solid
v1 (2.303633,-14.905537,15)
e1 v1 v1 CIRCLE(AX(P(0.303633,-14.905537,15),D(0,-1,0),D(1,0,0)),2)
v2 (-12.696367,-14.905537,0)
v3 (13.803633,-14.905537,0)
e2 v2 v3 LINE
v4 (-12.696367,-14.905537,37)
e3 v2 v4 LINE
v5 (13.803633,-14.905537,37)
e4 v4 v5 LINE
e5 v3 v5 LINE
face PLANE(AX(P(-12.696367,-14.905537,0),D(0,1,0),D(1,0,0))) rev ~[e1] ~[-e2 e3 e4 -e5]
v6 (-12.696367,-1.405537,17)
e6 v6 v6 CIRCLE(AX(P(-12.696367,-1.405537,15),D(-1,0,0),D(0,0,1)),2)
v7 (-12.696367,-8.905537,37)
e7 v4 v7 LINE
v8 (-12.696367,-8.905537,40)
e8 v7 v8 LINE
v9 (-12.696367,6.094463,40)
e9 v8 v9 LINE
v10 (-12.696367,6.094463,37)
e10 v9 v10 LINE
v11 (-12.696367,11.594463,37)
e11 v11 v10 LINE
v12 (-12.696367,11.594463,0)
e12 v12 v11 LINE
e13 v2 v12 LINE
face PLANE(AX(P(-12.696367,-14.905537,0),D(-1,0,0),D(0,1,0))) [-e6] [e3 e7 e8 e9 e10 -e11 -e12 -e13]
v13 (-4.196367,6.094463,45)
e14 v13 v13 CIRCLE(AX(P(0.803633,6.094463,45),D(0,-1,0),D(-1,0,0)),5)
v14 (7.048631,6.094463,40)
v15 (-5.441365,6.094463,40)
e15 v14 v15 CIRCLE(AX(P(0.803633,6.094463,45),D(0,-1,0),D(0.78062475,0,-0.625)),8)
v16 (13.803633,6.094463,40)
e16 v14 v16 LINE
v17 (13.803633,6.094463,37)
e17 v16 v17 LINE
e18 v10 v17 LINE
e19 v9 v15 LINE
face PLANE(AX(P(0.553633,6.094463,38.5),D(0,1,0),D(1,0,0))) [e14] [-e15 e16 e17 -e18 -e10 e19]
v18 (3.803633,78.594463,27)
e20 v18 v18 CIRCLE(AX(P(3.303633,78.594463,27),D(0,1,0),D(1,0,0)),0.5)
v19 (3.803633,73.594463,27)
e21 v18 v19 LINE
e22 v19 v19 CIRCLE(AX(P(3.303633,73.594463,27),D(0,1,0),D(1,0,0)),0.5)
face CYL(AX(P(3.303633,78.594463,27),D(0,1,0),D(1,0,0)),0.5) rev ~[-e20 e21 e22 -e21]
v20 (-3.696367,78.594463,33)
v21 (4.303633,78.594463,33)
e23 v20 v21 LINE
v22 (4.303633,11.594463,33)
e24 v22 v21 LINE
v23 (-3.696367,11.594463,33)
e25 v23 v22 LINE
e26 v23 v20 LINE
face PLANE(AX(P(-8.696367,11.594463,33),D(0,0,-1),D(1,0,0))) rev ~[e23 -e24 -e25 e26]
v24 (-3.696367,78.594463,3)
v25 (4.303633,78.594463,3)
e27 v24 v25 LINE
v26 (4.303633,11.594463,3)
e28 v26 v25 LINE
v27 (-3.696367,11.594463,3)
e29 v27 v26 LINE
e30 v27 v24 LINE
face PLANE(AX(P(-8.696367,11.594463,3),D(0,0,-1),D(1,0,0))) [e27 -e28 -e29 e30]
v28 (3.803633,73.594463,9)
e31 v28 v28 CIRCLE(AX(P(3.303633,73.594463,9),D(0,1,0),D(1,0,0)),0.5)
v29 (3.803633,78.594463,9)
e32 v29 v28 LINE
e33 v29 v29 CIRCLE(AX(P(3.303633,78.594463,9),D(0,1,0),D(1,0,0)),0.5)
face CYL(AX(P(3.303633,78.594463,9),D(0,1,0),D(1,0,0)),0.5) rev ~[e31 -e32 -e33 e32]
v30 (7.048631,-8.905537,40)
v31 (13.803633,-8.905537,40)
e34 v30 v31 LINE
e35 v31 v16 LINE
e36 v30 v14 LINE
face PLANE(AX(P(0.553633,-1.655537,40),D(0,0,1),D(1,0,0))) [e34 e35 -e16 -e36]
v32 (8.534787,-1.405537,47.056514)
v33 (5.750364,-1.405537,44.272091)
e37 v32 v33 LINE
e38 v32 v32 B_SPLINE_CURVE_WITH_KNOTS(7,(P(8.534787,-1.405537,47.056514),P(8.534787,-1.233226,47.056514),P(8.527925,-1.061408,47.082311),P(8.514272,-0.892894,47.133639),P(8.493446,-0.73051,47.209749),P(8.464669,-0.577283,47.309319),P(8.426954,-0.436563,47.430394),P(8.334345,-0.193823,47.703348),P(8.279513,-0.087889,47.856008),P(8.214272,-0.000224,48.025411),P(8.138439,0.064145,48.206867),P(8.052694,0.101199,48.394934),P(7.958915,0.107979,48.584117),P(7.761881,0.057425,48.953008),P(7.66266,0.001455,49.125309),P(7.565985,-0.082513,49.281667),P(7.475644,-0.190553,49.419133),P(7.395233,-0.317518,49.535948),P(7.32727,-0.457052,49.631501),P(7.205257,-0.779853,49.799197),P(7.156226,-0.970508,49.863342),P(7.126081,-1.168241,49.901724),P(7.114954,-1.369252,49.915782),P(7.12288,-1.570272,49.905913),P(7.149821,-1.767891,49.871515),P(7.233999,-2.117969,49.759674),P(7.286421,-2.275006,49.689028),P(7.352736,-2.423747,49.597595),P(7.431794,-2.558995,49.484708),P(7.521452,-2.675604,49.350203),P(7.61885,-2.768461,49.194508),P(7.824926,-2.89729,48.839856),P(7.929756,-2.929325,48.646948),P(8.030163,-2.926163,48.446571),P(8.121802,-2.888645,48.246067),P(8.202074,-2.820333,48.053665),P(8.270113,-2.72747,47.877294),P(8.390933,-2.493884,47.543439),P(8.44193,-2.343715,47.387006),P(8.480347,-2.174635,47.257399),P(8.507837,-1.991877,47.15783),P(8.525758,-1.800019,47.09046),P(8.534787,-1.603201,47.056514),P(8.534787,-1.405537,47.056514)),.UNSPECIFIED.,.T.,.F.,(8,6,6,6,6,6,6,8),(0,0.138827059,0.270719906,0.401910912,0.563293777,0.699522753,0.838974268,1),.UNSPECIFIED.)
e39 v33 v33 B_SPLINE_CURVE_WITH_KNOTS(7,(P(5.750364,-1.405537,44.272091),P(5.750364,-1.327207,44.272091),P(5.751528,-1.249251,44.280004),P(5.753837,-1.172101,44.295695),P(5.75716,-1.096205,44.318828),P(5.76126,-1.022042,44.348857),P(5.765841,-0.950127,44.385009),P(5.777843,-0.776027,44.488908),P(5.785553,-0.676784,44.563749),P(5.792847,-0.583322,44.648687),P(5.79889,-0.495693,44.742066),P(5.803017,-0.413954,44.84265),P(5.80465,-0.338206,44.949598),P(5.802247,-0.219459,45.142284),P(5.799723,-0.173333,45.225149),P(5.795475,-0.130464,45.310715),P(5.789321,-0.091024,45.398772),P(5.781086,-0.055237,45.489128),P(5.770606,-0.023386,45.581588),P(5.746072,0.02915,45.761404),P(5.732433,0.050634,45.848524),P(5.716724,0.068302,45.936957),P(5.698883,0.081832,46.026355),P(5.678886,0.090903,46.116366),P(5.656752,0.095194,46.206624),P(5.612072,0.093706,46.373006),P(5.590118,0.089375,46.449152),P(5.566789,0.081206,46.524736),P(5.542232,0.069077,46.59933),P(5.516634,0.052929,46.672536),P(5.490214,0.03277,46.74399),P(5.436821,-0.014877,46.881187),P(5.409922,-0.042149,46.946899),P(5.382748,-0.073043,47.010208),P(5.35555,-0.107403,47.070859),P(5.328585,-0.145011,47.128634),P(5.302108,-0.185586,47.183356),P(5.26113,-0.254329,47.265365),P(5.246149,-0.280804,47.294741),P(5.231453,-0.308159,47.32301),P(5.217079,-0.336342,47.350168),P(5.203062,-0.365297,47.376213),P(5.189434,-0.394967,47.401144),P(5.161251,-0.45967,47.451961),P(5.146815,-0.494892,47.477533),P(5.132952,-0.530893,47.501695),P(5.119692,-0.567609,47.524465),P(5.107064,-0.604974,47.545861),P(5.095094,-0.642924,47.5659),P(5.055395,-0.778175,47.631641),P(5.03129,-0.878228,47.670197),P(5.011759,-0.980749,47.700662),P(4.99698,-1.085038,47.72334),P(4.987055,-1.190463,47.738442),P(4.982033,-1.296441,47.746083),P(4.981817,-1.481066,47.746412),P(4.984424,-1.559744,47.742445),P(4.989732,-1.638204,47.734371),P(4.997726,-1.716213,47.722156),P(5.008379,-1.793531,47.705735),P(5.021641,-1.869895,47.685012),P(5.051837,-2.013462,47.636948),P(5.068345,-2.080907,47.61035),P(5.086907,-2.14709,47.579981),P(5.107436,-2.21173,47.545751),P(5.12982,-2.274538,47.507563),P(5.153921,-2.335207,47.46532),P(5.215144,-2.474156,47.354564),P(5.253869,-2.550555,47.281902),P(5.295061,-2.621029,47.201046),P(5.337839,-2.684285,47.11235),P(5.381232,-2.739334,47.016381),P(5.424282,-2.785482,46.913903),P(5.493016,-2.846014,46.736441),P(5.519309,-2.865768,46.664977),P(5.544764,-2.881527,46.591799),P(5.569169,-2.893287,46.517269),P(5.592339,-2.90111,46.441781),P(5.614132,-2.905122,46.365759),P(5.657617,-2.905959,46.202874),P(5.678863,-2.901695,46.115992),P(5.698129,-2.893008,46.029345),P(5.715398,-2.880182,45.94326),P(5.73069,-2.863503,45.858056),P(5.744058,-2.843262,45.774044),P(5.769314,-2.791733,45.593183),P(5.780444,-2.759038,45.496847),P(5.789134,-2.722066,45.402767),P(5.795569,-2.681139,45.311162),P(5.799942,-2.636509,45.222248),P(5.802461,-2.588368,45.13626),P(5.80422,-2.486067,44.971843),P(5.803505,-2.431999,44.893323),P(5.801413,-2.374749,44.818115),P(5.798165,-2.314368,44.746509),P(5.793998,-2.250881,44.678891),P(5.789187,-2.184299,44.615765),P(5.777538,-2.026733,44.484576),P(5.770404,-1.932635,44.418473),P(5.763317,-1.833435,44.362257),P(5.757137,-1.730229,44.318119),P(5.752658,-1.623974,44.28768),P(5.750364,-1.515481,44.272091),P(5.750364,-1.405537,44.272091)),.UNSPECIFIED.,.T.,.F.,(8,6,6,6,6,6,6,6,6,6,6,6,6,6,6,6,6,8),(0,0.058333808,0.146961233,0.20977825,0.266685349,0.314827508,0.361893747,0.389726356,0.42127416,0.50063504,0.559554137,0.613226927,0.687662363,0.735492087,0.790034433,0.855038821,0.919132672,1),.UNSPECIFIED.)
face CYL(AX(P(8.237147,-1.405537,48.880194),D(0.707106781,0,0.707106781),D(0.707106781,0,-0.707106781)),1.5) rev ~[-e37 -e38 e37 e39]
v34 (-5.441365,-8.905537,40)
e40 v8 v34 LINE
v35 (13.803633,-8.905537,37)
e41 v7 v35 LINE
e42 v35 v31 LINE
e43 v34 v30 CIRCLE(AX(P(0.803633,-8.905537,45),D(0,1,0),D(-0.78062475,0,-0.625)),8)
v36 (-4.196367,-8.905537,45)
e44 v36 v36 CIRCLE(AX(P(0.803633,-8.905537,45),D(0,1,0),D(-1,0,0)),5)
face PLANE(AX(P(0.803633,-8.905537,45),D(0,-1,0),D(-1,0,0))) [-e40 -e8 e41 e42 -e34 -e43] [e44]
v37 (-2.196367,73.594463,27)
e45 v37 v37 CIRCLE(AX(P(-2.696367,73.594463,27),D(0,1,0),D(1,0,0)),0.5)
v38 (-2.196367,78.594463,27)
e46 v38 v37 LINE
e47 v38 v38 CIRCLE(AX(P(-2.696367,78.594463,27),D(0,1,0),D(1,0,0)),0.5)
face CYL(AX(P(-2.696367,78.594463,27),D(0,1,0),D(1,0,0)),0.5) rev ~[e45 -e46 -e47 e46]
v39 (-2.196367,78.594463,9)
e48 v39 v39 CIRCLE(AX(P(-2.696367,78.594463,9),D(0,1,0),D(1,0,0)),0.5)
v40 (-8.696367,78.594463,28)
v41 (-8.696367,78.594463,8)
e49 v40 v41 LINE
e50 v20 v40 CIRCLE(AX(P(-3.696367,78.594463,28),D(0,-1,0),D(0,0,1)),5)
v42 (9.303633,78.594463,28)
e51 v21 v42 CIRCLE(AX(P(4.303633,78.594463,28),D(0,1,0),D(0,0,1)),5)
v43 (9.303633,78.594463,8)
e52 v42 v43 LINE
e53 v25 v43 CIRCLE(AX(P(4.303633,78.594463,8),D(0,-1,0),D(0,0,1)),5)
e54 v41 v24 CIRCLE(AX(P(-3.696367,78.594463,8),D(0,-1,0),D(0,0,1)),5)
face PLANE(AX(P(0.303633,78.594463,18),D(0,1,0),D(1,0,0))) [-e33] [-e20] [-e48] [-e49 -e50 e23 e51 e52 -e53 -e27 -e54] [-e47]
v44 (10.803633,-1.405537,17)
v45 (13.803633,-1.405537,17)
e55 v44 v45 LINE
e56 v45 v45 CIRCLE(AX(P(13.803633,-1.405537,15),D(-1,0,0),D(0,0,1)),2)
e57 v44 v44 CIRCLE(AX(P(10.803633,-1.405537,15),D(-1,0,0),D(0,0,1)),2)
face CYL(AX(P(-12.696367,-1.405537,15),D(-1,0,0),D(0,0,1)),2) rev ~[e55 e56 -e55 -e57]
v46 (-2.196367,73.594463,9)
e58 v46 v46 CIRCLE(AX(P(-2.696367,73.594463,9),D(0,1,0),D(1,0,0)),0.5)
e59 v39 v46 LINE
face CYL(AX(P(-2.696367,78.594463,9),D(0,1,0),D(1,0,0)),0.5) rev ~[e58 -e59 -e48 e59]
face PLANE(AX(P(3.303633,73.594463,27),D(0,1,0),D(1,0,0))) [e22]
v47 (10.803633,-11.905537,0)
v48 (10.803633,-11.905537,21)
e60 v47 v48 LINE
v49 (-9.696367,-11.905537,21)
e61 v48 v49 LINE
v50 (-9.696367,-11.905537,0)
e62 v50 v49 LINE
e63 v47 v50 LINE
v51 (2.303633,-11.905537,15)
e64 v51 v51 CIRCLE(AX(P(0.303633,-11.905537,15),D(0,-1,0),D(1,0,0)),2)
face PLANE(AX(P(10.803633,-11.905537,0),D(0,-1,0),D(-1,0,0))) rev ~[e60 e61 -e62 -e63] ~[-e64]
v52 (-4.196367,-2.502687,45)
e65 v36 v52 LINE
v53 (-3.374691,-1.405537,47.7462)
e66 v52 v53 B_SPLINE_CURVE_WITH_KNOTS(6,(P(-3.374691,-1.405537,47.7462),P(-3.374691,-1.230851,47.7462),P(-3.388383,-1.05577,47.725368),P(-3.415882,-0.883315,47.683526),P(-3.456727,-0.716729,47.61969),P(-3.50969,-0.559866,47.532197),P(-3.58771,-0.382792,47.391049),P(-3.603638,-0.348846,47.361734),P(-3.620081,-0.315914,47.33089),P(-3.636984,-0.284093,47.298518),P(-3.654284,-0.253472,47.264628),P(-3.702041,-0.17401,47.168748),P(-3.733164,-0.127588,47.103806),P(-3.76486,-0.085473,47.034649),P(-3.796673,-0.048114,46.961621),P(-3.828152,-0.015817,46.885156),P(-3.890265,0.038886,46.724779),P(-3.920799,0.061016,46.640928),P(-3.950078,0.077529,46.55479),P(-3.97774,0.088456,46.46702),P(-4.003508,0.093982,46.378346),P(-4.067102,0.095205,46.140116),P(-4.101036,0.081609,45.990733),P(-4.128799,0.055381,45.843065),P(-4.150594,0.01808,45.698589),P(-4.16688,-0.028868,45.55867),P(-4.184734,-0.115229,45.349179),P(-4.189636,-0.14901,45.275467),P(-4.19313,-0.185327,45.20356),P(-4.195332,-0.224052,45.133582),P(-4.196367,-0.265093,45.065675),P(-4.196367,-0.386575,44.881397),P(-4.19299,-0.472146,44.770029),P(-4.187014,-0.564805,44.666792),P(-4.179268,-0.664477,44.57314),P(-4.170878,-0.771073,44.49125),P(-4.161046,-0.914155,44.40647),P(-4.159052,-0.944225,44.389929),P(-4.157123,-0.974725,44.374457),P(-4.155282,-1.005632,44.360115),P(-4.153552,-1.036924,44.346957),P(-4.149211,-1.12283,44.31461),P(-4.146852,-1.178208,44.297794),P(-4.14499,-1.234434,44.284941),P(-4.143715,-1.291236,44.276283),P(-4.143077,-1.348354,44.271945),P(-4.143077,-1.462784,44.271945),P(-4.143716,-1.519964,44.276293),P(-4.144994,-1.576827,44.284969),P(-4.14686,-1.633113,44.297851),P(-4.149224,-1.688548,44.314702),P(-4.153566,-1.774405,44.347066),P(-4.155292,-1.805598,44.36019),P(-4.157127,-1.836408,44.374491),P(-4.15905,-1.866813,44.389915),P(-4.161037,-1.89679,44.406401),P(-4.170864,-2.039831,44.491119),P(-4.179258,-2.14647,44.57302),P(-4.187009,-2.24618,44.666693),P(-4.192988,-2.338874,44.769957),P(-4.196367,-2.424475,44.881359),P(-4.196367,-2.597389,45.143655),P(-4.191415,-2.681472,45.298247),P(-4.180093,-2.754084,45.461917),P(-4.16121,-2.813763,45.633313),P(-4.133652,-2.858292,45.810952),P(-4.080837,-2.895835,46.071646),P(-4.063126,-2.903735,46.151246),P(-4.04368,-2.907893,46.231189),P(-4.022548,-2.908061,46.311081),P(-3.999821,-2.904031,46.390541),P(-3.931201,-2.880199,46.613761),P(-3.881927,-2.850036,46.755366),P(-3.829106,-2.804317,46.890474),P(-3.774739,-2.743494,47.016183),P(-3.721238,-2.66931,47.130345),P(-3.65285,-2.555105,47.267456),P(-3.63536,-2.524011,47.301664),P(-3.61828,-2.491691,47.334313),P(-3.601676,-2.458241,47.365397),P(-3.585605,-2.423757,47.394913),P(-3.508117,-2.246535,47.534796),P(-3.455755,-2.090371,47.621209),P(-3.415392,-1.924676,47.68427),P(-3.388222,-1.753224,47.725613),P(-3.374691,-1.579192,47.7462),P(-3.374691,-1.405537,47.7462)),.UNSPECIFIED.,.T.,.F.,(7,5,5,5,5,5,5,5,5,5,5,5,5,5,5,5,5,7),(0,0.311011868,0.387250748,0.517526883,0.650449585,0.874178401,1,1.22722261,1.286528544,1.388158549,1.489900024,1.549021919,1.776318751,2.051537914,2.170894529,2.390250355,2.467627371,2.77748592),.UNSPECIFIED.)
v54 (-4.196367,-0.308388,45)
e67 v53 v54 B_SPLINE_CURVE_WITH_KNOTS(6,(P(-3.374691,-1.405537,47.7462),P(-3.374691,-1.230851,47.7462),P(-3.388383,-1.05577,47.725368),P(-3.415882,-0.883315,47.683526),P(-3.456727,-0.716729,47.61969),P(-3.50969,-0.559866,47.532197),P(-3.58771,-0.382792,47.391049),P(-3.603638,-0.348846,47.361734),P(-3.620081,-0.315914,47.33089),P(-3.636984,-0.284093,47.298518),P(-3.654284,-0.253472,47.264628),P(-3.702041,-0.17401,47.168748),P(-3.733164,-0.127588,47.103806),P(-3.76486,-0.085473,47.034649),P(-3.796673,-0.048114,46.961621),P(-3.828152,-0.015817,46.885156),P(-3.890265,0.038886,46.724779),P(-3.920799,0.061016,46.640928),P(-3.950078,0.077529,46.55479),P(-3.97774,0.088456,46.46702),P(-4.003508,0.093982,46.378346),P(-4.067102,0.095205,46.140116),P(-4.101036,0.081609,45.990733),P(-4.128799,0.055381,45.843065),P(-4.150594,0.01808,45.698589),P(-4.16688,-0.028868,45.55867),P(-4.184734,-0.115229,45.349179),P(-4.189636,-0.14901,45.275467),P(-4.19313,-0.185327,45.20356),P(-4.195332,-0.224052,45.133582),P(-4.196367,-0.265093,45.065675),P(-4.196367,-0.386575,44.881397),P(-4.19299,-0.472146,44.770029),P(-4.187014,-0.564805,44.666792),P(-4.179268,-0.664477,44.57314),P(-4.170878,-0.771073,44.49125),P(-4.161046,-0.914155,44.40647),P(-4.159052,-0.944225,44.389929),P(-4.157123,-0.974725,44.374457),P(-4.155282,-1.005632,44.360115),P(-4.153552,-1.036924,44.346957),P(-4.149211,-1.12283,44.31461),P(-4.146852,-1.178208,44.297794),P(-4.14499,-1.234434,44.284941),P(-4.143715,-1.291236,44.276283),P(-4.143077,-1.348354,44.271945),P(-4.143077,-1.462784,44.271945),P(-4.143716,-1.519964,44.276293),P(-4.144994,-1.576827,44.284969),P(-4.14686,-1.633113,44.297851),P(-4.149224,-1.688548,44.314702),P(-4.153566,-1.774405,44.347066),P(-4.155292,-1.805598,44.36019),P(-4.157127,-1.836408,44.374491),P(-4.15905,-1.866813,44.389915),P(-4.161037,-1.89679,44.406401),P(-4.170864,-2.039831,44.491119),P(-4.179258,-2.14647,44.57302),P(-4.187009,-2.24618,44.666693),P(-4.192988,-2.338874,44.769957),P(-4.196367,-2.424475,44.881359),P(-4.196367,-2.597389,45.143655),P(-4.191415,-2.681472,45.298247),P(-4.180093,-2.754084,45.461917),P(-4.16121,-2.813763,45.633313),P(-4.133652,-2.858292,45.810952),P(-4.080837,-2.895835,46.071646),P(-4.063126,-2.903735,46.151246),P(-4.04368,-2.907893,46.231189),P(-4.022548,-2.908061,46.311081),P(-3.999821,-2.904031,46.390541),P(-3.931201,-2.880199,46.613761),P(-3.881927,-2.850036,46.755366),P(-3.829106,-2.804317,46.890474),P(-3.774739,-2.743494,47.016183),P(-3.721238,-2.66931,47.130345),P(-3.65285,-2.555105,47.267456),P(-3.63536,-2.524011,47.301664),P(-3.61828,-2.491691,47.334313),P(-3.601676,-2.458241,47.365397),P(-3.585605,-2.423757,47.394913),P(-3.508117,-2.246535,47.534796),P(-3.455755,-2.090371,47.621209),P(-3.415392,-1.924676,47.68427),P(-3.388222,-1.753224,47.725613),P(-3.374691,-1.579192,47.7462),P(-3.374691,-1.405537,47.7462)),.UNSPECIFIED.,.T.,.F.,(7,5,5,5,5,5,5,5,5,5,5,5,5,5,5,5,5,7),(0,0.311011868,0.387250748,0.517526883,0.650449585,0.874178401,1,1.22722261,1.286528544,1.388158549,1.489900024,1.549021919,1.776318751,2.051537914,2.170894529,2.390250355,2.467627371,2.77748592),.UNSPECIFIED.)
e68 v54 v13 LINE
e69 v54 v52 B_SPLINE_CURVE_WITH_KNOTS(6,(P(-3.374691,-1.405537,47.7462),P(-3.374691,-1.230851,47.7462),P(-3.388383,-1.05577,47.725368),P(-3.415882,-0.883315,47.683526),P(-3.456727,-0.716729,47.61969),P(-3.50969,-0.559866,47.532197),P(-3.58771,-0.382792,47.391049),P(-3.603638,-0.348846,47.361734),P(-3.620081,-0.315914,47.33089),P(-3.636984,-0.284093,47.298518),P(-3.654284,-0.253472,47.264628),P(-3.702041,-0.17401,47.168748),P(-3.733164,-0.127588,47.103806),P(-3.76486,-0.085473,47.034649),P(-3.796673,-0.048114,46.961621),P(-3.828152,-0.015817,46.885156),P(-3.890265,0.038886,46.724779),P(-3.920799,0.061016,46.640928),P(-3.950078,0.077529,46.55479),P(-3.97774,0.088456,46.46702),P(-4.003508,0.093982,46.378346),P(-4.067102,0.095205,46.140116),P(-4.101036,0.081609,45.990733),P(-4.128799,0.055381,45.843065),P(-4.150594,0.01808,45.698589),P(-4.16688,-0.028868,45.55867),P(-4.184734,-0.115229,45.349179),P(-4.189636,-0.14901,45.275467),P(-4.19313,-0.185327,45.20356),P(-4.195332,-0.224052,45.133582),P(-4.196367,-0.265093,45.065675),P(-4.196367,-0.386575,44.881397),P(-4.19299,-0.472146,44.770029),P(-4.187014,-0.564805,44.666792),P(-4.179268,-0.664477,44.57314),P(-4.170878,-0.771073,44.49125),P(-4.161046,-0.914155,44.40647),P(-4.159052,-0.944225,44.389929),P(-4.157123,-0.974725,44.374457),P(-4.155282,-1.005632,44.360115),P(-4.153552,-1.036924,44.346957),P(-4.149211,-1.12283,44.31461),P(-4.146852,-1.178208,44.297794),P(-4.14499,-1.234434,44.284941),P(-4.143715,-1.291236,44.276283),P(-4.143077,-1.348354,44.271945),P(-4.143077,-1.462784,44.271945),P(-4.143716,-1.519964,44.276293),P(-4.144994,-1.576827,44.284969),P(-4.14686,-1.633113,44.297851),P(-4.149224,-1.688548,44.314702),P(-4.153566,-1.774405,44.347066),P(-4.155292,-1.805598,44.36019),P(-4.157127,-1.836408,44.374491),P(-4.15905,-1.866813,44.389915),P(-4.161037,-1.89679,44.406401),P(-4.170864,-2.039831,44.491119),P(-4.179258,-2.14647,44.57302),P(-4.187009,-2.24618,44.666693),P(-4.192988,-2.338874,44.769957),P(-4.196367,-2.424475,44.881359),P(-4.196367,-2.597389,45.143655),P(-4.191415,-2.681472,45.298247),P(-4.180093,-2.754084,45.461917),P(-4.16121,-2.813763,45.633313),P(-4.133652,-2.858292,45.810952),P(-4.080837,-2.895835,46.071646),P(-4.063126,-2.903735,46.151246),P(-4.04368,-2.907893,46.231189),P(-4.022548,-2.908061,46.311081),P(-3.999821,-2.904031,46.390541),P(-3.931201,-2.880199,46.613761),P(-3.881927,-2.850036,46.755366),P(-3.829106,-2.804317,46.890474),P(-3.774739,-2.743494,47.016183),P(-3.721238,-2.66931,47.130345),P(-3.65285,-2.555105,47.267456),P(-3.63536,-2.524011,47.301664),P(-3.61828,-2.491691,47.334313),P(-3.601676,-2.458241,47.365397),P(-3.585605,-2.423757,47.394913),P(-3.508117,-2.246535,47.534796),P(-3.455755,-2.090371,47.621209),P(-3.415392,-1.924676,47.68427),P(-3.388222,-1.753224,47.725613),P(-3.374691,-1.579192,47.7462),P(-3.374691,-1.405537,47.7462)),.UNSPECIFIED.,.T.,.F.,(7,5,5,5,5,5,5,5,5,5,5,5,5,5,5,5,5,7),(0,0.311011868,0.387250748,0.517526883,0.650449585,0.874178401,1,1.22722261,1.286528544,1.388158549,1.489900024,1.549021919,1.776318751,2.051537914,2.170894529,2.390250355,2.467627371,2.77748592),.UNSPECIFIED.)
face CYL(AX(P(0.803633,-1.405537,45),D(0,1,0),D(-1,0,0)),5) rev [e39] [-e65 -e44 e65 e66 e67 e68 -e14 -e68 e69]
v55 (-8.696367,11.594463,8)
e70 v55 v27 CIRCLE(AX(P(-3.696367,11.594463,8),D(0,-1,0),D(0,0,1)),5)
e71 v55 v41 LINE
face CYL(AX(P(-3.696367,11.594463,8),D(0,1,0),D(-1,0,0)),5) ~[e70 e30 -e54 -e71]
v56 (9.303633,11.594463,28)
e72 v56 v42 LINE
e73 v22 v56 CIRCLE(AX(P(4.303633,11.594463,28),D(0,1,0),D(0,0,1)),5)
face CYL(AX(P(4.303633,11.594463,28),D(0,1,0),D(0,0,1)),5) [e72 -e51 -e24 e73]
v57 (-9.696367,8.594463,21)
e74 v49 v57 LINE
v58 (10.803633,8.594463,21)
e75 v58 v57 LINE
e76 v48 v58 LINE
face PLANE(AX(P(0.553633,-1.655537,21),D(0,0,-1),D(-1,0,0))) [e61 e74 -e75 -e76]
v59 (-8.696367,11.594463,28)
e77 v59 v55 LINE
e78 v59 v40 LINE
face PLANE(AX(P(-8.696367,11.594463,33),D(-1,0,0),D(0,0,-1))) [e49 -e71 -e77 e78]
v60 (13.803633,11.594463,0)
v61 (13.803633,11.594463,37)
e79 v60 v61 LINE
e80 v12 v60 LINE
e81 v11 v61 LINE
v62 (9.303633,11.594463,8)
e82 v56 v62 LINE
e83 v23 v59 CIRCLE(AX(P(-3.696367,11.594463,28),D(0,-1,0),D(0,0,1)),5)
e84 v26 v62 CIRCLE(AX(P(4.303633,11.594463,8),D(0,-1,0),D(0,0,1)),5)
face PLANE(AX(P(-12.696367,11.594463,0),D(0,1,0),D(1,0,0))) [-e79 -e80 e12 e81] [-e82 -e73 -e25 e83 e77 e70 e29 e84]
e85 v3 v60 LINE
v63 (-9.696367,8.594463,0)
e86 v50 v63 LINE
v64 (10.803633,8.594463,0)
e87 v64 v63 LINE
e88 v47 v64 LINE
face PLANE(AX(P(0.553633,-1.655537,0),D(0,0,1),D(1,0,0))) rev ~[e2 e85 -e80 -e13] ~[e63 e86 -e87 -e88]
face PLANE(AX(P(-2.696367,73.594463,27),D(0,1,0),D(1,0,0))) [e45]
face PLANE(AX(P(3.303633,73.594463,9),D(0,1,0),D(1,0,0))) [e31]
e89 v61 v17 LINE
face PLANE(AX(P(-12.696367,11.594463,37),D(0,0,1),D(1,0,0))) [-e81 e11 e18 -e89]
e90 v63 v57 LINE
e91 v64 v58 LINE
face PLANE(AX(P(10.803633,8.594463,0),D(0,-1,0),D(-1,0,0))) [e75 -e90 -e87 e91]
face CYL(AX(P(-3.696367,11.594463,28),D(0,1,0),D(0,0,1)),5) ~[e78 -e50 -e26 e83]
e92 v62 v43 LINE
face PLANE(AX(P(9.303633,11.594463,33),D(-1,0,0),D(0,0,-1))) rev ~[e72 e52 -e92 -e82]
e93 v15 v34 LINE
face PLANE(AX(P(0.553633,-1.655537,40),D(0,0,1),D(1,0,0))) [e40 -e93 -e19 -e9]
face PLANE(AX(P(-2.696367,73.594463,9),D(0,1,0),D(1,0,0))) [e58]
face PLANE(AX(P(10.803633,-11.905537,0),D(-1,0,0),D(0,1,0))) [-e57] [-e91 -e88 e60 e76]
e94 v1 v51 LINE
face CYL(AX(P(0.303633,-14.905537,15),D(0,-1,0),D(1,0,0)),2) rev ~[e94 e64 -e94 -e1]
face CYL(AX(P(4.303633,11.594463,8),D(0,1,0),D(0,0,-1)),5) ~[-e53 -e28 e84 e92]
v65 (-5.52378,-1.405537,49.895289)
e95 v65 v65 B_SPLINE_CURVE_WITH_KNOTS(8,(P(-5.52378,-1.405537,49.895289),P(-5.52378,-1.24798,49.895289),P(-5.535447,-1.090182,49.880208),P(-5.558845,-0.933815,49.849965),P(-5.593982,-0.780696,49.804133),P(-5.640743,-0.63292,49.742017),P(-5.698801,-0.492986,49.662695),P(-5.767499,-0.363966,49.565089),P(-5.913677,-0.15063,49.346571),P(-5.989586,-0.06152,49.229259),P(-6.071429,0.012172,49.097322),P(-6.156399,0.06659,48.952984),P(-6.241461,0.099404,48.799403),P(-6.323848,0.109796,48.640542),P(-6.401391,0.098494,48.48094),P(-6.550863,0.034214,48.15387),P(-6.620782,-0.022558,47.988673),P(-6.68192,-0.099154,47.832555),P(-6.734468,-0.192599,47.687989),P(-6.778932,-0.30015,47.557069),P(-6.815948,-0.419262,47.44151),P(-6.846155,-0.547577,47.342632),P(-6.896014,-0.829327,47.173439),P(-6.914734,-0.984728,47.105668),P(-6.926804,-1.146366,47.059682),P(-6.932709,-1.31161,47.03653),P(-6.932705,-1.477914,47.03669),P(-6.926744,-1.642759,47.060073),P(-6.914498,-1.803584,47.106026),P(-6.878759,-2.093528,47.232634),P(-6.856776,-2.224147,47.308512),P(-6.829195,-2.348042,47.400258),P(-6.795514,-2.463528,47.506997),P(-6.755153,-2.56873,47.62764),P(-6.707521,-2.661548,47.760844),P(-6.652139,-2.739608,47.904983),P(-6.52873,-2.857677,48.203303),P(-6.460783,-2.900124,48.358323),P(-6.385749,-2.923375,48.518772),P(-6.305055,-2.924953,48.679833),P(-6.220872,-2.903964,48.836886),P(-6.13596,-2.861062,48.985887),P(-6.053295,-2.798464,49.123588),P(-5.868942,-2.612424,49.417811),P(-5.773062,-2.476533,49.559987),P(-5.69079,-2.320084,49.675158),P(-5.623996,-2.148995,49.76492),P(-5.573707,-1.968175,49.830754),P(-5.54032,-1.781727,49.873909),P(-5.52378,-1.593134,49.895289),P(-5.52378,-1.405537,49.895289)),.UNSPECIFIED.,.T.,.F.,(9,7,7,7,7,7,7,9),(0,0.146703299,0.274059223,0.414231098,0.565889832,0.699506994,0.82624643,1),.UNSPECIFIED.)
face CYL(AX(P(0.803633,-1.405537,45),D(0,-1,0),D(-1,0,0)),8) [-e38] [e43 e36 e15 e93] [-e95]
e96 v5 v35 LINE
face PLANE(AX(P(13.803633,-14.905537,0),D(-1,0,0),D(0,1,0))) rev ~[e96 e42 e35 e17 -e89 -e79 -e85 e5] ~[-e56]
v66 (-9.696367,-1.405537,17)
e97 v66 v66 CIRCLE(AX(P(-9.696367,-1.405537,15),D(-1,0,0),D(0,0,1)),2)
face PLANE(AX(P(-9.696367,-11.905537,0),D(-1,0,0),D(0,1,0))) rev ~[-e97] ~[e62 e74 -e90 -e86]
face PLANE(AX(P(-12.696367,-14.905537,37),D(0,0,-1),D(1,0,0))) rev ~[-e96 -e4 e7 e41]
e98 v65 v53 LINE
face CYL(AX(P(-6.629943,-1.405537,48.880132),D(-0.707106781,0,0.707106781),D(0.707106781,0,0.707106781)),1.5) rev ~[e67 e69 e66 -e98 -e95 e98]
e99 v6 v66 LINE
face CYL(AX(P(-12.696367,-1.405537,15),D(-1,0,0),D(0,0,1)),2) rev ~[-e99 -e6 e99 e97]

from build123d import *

# Parameters (mm, degrees)
ESQUISSE1_W                   = 26.5
ESQUISSE1_H                   = 26.5
BOSS_EXTRU_1_DEPTH            = 40
ESQUISSE2_W                   = 20.5
ESQUISSE2_H                   = 20.5
ENL_V_MAT_EXTRU_1_DEPTH       = 21
ESQUISSE4_R                   = 8
ESQUISSE4_R_2                 = 5
BOSS_EXTRU_3_DEPTH            = 7.5
ESQUISSE4_4_R                 = 8
ESQUISSE4_4_R_2               = 5
BOSS_EXTRU_4_DEPTH            = 7.5
ESQUISSE8_W                   = 26.5
ESQUISSE8_H                   = 3
ENL_V_MAT_EXTRU_4_DEPTH       = 6
ESQUISSE12_W                  = 18
ESQUISSE12_H                  = 30
BOSS_EXTRU_5_DEPTH            = 67
CONG_1_R                      = 5
CONG_2_R                      = 5
CONG_3_R                      = 5
CONG_4_R                      = 5
ENL_V_MAT_EXTRU_7_REACH       = 51.366
ESQUISSE17_R                  = 1.5
ENL_V_MAT_EXTRU_8_REACH       = 51.012
ESQUISSE18_R                  = 1.5
ESQUISSE13_R                  = 0.5
ENL_V_MAT_EXTRU_9_DEPTH       = 5
ESQUISSE19_R                  = 2
ENL_V_MAT_EXTRU_10_DEPTH      = 1
ENL_V_MAT_EXTRU_10_DEPTH_BACK = 27.5
ENL_V_MAT_EXTRU_11_REACH      = 95.5
ESQUISSE20_R                  = 2
ESQUISSE9_W                   = 26.5
ESQUISSE9_H                   = 3
ENL_V_MAT_EXTRU_13_DEPTH      = 5.5


with BuildPart() as part:
    # Esquisse1 → Boss.-Extru.1 (new body)
    with BuildSketch(Plane.XY):
        with Locations((0.553632827, -1.655537459)):
            Rectangle(ESQUISSE1_W, ESQUISSE1_H)
    extrude(amount=BOSS_EXTRU_1_DEPTH)

    # Esquisse2 → Enlèv. mat.-Extru.1 (cut)
    with BuildSketch(Plane(origin=(0, 0, 0), x_dir=(-1, 0, 0), z_dir=(0, 0, -1))):
        with Locations((-0.553632827, -1.655537459)):
            Rectangle(ESQUISSE2_W, ESQUISSE2_H)
    extrude(amount=-ENL_V_MAT_EXTRU_1_DEPTH, mode=Mode.SUBTRACT)

    # Esquisse4 → Boss.-Extru.3 (add)
    with BuildSketch(Plane(origin=(0, -1.405537459, 0), x_dir=(-1, 0, 0), z_dir=(0, -1, 0))):
        with Locations((-0.803632827, -45)):
            Circle(ESQUISSE4_R)
        with Locations((-0.803632827, -45)):
            Circle(ESQUISSE4_R_2, mode=Mode.SUBTRACT)
    extrude(amount=BOSS_EXTRU_3_DEPTH)

    # Esquisse4<4> → Boss.-Extru.4 (add)
    with BuildSketch(Plane(origin=(0, -1.405537459, 0), x_dir=(-1, 0, 0), z_dir=(0, -1, 0))):
        with Locations((-0.803632827, -45)):
            Circle(ESQUISSE4_4_R)
        with Locations((-0.803632827, -45)):
            Circle(ESQUISSE4_4_R_2, mode=Mode.SUBTRACT)
    extrude(amount=-BOSS_EXTRU_4_DEPTH)

    # Esquisse8 → Enlèv. mat.-Extru.4 (cut)
    with BuildSketch(Plane.XZ.offset(14.905537459)):
        with Locations((0.553632827, 38.5)):
            Rectangle(ESQUISSE8_W, ESQUISSE8_H)
    extrude(amount=-ENL_V_MAT_EXTRU_4_DEPTH, mode=Mode.SUBTRACT)

    # Esquisse12 → Boss.-Extru.5 (add)
    with BuildSketch(Plane(origin=(0, 11.594462541, 0), x_dir=(1, 0, 0), z_dir=(0, 1, 0))):
        with Locations((0.303632827, -18)):
            Rectangle(ESQUISSE12_W, ESQUISSE12_H)
    extrude(amount=BOSS_EXTRU_5_DEPTH)

    # Congé1
    cong_1_edges = [part.edges().sort_by_distance(p)[0] for p in [
        (9.303632827, 45.094462541, 33),
    ]]
    fillet(cong_1_edges, radius=CONG_1_R)

    # Congé2
    cong_2_edges = [part.edges().sort_by_distance(p)[0] for p in [
        (-8.696367173, 45.094462541, 33),
    ]]
    fillet(cong_2_edges, radius=CONG_2_R)

    # Congé3
    cong_3_edges = [part.edges().sort_by_distance(p)[0] for p in [
        (-8.696367173, 45.094462541, 3),
    ]]
    fillet(cong_3_edges, radius=CONG_3_R)

    # Congé4
    cong_4_edges = [part.edges().sort_by_distance(p)[0] for p in [
        (9.303632827, 45.094462541, 3),
    ]]
    fillet(cong_4_edges, radius=CONG_4_R)

    # Esquisse17 → Enlèv. mat.-Extru.7 (cut, up to next)
    with BuildSketch(Plane(origin=(28.558670663, 0, 28.558670663), x_dir=(0.707106781, 0, -0.707106781), z_dir=(0.707106781, 0, 0.707106781)), mode=Mode.PRIVATE) as enl_v_mat_extru_7_sk1:
        with Locations((-28.738974236, -1.405537459)):
            Circle(ESQUISSE17_R)
    enl_v_mat_extru_7_tool1 = extrude(enl_v_mat_extru_7_sk1.sketch, amount=-ENL_V_MAT_EXTRU_7_REACH, mode=Mode.PRIVATE) & part.part
    add(enl_v_mat_extru_7_tool1.solids().sort_by_distance((8.237147, -1.405537, 48.880194))[0], mode=Mode.SUBTRACT)

    # Esquisse18 → Enlèv. mat.-Extru.8 (cut, up to next)
    with BuildSketch(Plane(origin=(-27.755037836, 0, 27.755037836), x_dir=(0.707106781, 0, 0.707106781), z_dir=(-0.707106781, 0, 0.707106781)), mode=Mode.PRIVATE) as enl_v_mat_extru_8_sk1:
        with Locations((29.875394998, -1.405537459)):
            Circle(ESQUISSE18_R)
    enl_v_mat_extru_8_tool1 = extrude(enl_v_mat_extru_8_sk1.sketch, amount=-ENL_V_MAT_EXTRU_8_REACH, mode=Mode.PRIVATE) & part.part
    add(enl_v_mat_extru_8_tool1.solids().sort_by_distance((-6.629943, -1.405537, 48.880132))[0], mode=Mode.SUBTRACT)

    # Esquisse13 → Enlèv. mat.-Extru.9 (cut)
    with BuildSketch(Plane(origin=(0, 78.594462541, 0), x_dir=(1, 0, 0), z_dir=(0, 1, 0))):
        with Locations((3.303632827, -9)):
            Circle(ESQUISSE13_R)
        with Locations((-2.696367173, -9)):
            Circle(ESQUISSE13_R)
        with Locations((3.303632827, -27)):
            Circle(ESQUISSE13_R)
        with Locations((-2.696367173, -27)):
            Circle(ESQUISSE13_R)
    extrude(amount=-ENL_V_MAT_EXTRU_9_DEPTH, mode=Mode.SUBTRACT)

    # Esquisse19 → Enlèv. mat.-Extru.10 (cut, two sides)
    with BuildSketch(Plane.ZY.offset(12.696367173)) as enl_v_mat_extru_10_sk:
        with Locations((15, -1.405537459)):
            Circle(ESQUISSE19_R)
    extrude(amount=ENL_V_MAT_EXTRU_10_DEPTH, mode=Mode.SUBTRACT)
    extrude(enl_v_mat_extru_10_sk.sketch, amount=-ENL_V_MAT_EXTRU_10_DEPTH_BACK, mode=Mode.SUBTRACT)

    # Esquisse20 → Enlèv. mat.-Extru.11 (cut, up to next)
    with BuildSketch(Plane.XZ.offset(14.905537459), mode=Mode.PRIVATE) as enl_v_mat_extru_11_sk1:
        with Locations((0.303632827, 15)):
            Circle(ESQUISSE20_R)
    enl_v_mat_extru_11_tool1 = extrude(enl_v_mat_extru_11_sk1.sketch, amount=-ENL_V_MAT_EXTRU_11_REACH, mode=Mode.PRIVATE) & part.part
    add(enl_v_mat_extru_11_tool1.solids().sort_by_distance((0.303633, -14.905537, 15))[0], mode=Mode.SUBTRACT)

    # Esquisse9 → Enlèv. mat.-Extru.13 (cut)
    with BuildSketch(Plane(origin=(0, 11.594462541, 0), x_dir=(1, 0, 0), z_dir=(0, 1, 0))):
        with Locations((0.553632827, -38.5)):
            Rectangle(ESQUISSE9_W, ESQUISSE9_H)
    extrude(amount=-ENL_V_MAT_EXTRU_13_DEPTH, mode=Mode.SUBTRACT)


solid = part.part
